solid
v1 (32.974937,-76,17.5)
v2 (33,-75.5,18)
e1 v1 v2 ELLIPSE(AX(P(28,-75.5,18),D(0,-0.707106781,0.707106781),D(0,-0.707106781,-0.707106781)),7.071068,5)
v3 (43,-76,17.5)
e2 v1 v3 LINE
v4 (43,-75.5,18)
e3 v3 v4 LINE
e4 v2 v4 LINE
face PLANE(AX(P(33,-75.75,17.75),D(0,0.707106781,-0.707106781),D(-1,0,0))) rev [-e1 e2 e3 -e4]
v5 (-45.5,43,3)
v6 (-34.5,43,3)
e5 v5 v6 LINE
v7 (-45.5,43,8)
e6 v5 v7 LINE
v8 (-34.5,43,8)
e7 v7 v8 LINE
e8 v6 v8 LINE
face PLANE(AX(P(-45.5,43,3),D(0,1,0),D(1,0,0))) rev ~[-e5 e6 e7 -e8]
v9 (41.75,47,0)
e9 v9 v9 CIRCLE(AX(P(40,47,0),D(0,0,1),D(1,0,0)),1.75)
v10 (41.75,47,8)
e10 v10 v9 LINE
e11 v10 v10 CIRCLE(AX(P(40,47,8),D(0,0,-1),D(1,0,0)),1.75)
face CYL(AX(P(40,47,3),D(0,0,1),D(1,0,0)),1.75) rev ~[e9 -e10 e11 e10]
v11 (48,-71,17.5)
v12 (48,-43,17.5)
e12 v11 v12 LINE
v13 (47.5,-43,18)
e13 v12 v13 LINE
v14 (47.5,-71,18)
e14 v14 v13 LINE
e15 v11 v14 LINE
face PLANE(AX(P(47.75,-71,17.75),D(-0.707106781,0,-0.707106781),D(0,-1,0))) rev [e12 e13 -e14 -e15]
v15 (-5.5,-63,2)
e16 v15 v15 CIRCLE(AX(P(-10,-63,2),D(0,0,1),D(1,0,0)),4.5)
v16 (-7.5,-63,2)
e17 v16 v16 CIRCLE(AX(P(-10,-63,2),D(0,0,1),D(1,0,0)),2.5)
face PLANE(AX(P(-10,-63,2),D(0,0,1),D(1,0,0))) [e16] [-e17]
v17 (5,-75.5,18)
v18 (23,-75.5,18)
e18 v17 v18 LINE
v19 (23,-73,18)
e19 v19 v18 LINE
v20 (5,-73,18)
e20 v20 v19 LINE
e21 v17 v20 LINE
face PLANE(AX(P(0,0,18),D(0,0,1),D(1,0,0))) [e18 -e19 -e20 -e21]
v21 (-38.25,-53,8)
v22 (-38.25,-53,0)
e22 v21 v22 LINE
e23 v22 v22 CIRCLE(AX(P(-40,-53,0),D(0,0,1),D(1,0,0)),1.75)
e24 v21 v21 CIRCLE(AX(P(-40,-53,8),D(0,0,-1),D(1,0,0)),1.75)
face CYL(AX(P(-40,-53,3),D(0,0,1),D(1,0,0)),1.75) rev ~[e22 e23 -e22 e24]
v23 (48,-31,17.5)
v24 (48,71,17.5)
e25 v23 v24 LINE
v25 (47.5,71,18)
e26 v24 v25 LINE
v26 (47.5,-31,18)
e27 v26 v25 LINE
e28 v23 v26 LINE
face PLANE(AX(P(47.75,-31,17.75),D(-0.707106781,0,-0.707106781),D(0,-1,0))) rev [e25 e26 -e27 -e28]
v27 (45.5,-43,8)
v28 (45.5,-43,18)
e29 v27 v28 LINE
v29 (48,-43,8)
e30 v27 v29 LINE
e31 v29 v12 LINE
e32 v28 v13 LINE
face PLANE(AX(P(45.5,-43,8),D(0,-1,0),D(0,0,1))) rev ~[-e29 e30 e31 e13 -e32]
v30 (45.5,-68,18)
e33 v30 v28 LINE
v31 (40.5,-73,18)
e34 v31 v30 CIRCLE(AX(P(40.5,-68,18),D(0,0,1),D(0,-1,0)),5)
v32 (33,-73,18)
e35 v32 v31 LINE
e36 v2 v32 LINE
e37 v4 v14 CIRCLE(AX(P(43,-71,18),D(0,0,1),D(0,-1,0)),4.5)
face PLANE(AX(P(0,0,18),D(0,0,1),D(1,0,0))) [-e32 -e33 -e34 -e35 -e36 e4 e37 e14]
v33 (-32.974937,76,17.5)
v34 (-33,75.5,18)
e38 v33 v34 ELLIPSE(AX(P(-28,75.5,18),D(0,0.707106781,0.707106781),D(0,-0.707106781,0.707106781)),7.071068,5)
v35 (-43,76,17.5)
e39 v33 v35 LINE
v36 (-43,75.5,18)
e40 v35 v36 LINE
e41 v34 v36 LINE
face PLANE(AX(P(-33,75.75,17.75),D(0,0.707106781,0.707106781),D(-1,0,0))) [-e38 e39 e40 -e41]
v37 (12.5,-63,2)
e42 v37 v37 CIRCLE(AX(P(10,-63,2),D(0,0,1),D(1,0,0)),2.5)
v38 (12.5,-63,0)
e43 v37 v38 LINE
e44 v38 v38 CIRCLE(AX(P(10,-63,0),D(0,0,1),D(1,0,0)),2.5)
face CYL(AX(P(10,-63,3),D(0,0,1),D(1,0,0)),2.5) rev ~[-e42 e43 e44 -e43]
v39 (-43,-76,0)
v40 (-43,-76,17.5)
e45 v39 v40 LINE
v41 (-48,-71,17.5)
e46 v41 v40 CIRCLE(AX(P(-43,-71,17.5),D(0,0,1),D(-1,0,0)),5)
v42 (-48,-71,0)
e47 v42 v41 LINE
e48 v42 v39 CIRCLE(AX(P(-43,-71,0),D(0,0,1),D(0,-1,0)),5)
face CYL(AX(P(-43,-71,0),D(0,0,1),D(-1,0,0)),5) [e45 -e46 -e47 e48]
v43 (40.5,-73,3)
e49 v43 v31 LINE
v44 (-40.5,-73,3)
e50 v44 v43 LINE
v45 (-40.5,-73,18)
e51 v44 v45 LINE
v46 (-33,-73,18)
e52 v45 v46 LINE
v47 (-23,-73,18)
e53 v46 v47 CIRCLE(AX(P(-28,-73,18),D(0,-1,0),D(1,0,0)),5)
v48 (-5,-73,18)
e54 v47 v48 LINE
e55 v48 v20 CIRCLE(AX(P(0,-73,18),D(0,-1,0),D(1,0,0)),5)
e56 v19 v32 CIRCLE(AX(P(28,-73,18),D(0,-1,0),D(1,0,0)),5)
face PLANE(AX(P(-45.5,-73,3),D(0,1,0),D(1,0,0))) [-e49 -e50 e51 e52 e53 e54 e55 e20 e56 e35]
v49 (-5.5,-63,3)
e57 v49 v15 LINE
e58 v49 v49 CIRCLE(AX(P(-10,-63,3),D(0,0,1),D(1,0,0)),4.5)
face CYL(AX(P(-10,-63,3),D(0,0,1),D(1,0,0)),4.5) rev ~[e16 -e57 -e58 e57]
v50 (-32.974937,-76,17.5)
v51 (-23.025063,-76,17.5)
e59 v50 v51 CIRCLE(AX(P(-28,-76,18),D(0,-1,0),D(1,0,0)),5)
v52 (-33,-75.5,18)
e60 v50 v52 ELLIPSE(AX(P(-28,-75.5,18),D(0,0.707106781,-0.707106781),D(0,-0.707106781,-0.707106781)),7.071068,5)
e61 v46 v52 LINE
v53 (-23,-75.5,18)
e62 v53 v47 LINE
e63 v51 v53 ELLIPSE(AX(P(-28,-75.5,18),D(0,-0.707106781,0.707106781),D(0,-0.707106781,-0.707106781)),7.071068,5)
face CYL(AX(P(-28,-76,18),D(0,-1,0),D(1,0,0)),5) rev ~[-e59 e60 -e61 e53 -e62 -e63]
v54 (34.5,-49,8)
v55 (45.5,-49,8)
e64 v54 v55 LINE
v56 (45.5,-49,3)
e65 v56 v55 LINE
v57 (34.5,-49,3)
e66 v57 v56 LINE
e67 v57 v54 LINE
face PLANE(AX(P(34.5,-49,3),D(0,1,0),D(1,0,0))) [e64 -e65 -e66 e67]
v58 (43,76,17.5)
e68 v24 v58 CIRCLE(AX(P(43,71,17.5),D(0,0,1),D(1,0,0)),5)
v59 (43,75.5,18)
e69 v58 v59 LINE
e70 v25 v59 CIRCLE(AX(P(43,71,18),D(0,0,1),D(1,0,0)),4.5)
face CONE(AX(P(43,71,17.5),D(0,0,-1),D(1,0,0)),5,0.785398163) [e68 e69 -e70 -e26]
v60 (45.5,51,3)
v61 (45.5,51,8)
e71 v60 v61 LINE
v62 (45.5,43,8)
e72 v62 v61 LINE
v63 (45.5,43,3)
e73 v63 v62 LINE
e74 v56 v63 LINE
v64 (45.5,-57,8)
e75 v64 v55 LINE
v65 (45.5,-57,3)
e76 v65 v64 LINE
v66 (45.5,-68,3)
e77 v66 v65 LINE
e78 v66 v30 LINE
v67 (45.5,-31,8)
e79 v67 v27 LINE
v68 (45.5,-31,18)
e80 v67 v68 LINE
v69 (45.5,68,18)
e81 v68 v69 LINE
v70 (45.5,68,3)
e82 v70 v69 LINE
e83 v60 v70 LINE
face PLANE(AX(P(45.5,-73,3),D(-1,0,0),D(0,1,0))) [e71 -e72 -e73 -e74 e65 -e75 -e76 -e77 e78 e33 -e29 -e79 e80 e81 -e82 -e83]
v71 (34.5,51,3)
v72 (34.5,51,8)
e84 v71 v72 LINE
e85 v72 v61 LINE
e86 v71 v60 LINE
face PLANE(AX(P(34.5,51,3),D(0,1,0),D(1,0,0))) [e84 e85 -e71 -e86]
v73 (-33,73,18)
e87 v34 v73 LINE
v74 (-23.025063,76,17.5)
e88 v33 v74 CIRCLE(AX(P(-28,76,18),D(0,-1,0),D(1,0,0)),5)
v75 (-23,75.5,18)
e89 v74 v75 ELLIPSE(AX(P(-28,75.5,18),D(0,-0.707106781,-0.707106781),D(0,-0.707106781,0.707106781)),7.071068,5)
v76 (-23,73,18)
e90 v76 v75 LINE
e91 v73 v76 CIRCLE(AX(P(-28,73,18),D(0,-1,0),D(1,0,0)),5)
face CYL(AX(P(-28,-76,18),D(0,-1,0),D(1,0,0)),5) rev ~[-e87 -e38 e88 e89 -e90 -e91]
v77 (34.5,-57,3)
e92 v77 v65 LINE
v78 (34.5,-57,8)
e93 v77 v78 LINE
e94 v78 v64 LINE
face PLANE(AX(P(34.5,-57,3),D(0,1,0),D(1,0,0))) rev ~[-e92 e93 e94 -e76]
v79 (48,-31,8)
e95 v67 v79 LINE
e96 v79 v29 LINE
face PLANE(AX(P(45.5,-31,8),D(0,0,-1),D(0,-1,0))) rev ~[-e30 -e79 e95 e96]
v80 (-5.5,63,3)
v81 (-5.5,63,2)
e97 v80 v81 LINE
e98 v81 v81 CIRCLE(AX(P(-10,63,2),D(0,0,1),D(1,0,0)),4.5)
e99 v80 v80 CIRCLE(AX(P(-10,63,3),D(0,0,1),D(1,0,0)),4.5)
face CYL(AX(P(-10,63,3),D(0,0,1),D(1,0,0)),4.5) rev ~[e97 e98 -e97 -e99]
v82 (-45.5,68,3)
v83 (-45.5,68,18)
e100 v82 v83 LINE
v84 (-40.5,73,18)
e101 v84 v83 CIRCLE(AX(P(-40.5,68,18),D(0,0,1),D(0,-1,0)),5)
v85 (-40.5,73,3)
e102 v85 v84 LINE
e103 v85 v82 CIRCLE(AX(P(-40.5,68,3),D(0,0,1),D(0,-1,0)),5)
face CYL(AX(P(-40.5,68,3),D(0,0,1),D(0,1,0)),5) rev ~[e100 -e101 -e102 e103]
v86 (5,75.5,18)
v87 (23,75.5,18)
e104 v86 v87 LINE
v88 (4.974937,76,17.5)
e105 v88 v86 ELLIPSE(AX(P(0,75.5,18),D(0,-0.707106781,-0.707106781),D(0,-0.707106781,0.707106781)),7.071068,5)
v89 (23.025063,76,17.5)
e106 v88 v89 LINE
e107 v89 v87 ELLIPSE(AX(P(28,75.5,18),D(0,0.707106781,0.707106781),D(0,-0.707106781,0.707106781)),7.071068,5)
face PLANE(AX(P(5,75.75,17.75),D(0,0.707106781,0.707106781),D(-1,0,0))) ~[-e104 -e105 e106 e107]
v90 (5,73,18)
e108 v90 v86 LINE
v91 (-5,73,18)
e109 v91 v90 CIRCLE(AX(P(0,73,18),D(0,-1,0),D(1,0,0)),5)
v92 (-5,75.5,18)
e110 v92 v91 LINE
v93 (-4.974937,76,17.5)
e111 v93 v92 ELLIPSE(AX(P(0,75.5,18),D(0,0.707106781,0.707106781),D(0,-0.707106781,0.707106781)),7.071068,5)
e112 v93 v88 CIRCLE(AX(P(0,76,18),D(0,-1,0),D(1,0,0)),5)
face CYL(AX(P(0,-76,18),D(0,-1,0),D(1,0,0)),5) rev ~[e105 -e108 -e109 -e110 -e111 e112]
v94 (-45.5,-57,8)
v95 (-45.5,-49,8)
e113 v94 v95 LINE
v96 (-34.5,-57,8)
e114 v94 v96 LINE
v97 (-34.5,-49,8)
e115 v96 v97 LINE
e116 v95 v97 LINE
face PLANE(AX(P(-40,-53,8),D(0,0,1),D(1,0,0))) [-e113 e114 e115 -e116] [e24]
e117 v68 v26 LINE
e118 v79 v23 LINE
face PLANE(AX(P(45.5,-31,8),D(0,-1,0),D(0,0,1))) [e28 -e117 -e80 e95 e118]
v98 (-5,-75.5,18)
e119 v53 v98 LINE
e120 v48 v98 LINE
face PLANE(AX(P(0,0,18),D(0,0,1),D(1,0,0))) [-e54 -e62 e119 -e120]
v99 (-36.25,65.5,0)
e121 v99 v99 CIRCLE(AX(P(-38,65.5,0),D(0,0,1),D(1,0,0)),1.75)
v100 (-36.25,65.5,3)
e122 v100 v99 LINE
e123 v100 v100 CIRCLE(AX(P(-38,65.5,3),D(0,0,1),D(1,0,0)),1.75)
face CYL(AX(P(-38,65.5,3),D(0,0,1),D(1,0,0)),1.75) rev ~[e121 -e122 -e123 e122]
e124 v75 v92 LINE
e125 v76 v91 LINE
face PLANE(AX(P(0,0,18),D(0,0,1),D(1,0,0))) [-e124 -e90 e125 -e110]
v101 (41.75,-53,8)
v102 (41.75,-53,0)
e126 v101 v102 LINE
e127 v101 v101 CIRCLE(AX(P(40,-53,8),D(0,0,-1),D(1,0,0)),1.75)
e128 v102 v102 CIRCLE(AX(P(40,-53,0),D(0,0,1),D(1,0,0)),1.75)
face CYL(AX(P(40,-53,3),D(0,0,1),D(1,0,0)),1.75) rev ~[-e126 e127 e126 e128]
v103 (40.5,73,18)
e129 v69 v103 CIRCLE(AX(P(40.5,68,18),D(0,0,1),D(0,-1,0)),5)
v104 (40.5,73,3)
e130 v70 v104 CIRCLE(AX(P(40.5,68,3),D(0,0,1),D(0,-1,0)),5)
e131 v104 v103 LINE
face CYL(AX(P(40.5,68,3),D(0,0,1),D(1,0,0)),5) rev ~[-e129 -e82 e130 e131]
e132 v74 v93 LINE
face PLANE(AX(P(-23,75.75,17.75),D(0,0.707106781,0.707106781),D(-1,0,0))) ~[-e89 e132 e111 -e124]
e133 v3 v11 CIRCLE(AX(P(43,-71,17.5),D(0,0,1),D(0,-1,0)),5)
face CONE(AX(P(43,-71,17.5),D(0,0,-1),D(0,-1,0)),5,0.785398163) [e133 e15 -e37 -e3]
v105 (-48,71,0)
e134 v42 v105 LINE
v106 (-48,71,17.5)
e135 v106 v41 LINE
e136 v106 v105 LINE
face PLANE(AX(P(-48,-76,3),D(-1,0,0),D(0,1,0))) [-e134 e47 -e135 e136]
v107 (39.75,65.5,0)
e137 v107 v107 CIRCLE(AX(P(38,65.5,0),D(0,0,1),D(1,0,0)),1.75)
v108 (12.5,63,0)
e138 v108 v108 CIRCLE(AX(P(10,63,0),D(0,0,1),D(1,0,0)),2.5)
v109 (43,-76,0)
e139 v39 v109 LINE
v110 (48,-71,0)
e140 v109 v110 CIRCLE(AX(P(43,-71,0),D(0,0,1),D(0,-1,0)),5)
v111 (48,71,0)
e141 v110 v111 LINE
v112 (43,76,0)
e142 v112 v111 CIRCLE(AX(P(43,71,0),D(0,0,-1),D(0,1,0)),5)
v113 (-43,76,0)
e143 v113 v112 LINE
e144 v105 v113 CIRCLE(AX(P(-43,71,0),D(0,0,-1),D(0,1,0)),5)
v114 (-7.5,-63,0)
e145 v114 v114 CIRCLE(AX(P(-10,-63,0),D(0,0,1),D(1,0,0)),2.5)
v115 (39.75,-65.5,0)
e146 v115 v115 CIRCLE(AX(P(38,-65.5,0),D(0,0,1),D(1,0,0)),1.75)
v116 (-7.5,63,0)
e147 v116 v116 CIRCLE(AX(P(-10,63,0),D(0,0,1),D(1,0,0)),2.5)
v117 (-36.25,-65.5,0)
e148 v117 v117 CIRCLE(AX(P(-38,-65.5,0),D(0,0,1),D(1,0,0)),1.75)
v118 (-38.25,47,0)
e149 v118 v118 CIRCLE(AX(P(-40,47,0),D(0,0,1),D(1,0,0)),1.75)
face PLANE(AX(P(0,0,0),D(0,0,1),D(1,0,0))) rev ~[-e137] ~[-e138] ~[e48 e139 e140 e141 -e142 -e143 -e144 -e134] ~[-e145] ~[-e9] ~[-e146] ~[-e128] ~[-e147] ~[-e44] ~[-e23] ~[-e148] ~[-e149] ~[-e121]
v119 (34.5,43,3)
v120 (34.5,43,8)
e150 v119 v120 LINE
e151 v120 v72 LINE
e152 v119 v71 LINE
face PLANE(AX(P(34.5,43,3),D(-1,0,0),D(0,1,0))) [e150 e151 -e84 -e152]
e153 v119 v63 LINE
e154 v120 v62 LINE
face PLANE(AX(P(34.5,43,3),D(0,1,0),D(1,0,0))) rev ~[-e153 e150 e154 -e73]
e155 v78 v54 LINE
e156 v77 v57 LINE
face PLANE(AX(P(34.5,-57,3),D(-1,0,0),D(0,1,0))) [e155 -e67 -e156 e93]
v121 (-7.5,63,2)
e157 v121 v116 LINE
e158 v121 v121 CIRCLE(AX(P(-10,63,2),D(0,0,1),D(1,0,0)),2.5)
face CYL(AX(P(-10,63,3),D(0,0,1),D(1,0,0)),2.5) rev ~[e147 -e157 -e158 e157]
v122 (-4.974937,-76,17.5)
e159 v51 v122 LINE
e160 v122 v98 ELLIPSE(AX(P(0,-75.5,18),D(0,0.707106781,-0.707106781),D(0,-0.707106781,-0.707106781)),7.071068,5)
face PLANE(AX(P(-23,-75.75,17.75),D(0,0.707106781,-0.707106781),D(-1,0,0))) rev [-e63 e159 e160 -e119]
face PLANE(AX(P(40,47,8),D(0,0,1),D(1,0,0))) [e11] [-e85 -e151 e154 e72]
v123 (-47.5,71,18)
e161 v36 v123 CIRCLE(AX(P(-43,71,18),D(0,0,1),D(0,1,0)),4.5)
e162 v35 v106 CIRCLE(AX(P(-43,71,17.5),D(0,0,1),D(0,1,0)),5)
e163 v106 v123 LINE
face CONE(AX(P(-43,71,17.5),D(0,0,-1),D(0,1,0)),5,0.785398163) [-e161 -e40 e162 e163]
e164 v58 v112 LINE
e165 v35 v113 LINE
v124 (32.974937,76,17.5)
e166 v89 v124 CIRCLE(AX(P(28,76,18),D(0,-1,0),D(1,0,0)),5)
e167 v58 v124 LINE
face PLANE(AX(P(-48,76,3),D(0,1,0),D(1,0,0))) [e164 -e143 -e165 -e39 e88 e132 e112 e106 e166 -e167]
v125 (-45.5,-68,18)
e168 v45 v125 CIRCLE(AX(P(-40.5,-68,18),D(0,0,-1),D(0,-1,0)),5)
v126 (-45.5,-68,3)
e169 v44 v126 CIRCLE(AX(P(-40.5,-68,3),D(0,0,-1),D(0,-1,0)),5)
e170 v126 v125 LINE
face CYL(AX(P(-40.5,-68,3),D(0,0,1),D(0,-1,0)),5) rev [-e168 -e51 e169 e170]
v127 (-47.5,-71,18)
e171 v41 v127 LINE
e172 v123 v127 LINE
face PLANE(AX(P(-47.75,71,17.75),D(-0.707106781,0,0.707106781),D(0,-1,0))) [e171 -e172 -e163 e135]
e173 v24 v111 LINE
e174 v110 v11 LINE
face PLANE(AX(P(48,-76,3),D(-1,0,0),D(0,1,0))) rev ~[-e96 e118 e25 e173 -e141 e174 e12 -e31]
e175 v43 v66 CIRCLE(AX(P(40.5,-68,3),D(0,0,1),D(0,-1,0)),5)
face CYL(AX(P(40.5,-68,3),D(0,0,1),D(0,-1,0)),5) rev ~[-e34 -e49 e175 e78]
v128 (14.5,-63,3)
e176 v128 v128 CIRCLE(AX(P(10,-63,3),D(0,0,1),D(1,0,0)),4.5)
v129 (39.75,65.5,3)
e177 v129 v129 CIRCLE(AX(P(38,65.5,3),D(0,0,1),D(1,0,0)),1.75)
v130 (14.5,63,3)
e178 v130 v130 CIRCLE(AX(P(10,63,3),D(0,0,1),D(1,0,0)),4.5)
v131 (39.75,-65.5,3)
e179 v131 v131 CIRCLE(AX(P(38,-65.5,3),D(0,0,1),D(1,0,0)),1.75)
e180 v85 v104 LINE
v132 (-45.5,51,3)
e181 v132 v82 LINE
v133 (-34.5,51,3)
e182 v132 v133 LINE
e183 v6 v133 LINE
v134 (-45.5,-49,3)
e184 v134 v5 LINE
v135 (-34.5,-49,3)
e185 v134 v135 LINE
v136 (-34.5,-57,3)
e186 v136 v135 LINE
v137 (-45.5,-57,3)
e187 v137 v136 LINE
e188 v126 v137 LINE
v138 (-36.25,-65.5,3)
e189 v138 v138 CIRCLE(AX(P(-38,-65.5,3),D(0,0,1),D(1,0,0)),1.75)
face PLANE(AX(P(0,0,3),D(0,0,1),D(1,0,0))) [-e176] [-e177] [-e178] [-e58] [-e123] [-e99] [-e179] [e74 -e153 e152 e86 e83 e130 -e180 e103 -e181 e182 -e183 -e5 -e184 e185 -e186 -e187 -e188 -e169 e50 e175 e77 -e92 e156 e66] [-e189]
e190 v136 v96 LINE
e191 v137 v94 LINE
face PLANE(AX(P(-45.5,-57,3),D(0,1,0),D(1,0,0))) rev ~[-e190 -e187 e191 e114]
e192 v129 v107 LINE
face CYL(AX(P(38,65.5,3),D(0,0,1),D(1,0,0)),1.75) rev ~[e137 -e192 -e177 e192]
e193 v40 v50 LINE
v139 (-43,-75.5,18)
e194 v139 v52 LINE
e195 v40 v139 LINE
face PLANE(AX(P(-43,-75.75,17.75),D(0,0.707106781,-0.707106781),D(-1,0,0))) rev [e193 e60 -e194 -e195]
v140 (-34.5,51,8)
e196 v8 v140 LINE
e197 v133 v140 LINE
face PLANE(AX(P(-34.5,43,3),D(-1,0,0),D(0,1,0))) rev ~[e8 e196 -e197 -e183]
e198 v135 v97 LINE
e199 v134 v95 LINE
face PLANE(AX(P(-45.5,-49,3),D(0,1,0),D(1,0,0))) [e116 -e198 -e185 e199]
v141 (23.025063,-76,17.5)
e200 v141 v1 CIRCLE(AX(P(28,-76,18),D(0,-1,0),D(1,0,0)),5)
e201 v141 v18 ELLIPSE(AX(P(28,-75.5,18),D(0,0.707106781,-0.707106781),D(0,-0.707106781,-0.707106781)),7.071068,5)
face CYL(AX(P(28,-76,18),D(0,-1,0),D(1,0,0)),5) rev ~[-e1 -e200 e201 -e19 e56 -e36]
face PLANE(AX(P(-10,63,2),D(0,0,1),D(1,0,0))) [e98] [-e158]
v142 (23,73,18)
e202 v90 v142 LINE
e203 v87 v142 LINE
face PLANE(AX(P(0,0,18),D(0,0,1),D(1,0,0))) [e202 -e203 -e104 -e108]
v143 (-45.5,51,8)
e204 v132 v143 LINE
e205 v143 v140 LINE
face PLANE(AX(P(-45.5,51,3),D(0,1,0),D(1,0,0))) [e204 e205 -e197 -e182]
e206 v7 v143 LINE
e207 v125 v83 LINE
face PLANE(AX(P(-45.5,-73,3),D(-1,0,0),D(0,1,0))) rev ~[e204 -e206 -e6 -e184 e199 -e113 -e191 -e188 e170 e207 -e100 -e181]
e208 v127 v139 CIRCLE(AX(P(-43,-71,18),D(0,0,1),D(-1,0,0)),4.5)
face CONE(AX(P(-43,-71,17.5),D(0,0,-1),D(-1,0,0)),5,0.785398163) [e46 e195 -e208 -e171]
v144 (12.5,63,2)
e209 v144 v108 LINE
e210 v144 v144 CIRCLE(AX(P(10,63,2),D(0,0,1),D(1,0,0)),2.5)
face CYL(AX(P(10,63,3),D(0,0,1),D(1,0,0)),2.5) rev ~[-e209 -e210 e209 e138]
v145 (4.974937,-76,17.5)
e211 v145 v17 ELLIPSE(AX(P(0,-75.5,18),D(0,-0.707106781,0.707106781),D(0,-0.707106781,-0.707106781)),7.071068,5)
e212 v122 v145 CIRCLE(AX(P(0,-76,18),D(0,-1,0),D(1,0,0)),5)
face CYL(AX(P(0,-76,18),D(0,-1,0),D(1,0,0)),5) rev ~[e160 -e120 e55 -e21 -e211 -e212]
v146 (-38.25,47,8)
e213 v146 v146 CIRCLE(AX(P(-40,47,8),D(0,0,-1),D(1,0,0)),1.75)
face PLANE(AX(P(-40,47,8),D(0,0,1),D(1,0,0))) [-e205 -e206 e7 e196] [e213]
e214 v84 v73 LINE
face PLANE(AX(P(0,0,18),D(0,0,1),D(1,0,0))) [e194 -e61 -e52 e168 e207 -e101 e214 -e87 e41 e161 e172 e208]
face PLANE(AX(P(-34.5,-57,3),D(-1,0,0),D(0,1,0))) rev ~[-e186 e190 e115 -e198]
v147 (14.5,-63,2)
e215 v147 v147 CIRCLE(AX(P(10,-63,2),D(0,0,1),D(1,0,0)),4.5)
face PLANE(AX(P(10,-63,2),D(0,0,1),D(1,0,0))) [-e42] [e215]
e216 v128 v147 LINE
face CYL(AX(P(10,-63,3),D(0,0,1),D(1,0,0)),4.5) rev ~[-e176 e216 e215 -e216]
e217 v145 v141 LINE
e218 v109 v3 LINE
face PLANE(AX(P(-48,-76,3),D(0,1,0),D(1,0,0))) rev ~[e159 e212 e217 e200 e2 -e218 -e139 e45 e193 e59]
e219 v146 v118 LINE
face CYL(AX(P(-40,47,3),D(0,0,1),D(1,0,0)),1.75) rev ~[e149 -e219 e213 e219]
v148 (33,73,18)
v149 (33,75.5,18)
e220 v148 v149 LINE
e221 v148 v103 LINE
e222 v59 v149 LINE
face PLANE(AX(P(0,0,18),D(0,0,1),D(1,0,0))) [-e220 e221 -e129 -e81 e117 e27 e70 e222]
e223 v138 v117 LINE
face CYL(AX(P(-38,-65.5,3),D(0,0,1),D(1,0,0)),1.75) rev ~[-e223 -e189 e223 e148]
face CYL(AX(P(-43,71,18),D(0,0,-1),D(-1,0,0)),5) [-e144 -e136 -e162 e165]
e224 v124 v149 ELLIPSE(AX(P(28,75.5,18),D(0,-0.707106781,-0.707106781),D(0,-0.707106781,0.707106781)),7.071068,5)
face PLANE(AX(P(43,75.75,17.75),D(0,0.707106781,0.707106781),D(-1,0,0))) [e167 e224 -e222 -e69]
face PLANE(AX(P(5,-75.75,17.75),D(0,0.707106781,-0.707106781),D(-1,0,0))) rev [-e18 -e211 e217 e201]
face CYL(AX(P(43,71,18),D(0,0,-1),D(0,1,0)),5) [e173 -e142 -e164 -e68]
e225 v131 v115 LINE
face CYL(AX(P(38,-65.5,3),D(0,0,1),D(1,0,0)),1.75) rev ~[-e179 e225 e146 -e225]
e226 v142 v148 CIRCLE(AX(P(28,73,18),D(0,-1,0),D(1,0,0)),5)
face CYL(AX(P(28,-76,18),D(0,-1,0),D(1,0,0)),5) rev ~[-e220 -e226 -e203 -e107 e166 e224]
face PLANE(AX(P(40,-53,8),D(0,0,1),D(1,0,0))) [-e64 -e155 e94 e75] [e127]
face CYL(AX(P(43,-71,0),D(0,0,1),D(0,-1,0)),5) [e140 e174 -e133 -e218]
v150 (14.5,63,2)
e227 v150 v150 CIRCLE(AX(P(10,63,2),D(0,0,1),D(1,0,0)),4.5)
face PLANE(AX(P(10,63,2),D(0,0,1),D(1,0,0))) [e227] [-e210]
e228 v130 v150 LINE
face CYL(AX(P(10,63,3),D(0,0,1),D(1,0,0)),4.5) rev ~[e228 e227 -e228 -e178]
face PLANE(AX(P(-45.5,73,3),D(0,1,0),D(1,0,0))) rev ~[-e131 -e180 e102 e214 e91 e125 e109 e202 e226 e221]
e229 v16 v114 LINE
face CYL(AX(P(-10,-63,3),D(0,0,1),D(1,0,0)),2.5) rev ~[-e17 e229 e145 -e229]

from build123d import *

# Parameters (mm, degrees)
F0_W      = 96
F0_H      = 152
F1_DEPTH  = 3
F2_W      = 96
F2_H      = 152
F2_W_2    = 91
F2_H_2    = 146
F3_DEPTH  = 15
F4_R      = 1.75
F5_DEPTH  = 3
F6_R      = 5
F7_R      = 5
F8_DEPTH  = 152.001
F9_W      = 11
F9_H      = 8
F10_DEPTH = 5
F11_R     = 1.75
F12_DEPTH = 15.001
F13_DEPTH = 25
F14_R     = 2.5
F15_DEPTH = 3.001
F16_W     = 12
F16_H     = 20.9038736373
F17_DEPTH = 2.501
F18_SIZE  = 0.5
F19_R     = 4.5
F20_DEPTH = 1


with BuildPart() as f1:
    # F0 (on Top) → F1 (new body)
    with BuildSketch(Plane.XY):
        Rectangle(F0_W, F0_H)
    extrude(amount=F1_DEPTH)

    # F2 (on face) → F3 (join)
    with BuildSketch(Plane.XY.offset(3)):
        Rectangle(F2_W, F2_H)
        Rectangle(F2_W_2, F2_H_2, mode=Mode.SUBTRACT)
    extrude(amount=F3_DEPTH)

    # F4 (on face) → F5 (cut, through all)
    with BuildSketch(Plane.XY.offset(3)):
        with Locations((-38, 65.5)):
            Circle(F4_R)
        with Locations((38, 65.5)):
            Circle(F4_R)
        with Locations((-38, -65.5)):
            Circle(F4_R)
        with Locations((38, -65.5)):
            Circle(F4_R)
    extrude(amount=-F5_DEPTH, mode=Mode.SUBTRACT)

    # F6
    f6_edges = [f1.edges().sort_by_distance(p)[0] for p in [
        (-48, -76, 9),
        (48, -76, 9),
        (45.5, -73, 10.5),
        (-45.5, -73, 10.5),
        (-48, 76, 9),
        (-45.5, 73, 10.5),
        (48, 76, 9),
        (45.5, 73, 10.5),
    ]]
    fillet(f6_edges, radius=F6_R)

    # F7 (on face) → F8 (cut, through all)
    with BuildSketch(Plane.XZ.offset(76)):
        with Locations((-28, 18)):
            Circle(F7_R)
        with Locations((0, 18)):
            Circle(F7_R)
        with Locations((28, 18)):
            Circle(F7_R)
    extrude(amount=-F8_DEPTH, mode=Mode.SUBTRACT)

    # F9 (on face) → F10 (join)
    with BuildSketch(Plane.XY.offset(3)):
        with Locations((-40, -53)):
            Rectangle(F9_W, F9_H)
        with Locations((40, -53)):
            Rectangle(F9_W, F9_H)
        with Locations((-40, 47)):
            Rectangle(F9_W, F9_H)
        with Locations((40, 47)):
            Rectangle(F9_W, F9_H)
    extrude(amount=F10_DEPTH)

    # F11 (on face) → F12 (cut, through all)
    with BuildSketch(Plane.XY.offset(3)):
        with Locations((-40, -53)):
            Circle(F11_R)
        with Locations((40, -53)):
            Circle(F11_R)
        with Locations((-40, 47)):
            Circle(F11_R)
        with Locations((40, 47)):
            Circle(F11_R)
    extrude(amount=F12_DEPTH, mode=Mode.SUBTRACT)

    # F11 (on face) → F13 (cut)
    with BuildSketch(Plane.XY.offset(3)):
        with Locations((-40, -53)):
            Circle(F11_R)
        with Locations((40, -53)):
            Circle(F11_R)
        with Locations((-40, 47)):
            Circle(F11_R)
        with Locations((40, 47)):
            Circle(F11_R)
    extrude(amount=-F13_DEPTH, mode=Mode.SUBTRACT)

    # F14 (on face) → F15 (cut, through all)
    with BuildSketch(Plane.XY.offset(3)):
        with Locations((-10, -63)):
            Circle(F14_R)
        with Locations((10, -63)):
            Circle(F14_R)
        with Locations((-10, 63)):
            Circle(F14_R)
        with Locations((10, 63)):
            Circle(F14_R)
    extrude(amount=-F15_DEPTH, mode=Mode.SUBTRACT)

    # F16 (on face) → F17 (cut, through all)
    with BuildSketch(Plane(origin=(45.5, 0, 0), x_dir=(0, -1, 0), z_dir=(-1, 0, 0))):
        with Locations((37, 18.4519368187)):
            Rectangle(F16_W, F16_H)
    extrude(amount=-F17_DEPTH, mode=Mode.SUBTRACT)

    # F18 (call 1 of 7: OpenCascade refuses the feature's edges together)
    f18_edges = [f1.edges().sort_by_distance(p)[0] for p in [
        (48, 20, 18),
    ]]
    chamfer(f18_edges, length=F18_SIZE)

    # F18#2 (call 2 of 7)
    f18_2_edges = [f1.edges().sort_by_distance(p)[0] for p in [
        (48, -57, 18),
        (46.535534, -74.535534, 18),
    ]]
    chamfer(f18_2_edges, length=F18_SIZE)

    # F18#3 (call 3 of 7)
    f18_3_edges = [f1.edges().sort_by_distance(p)[0] for p in [
        (14, -76, 18),
    ]]
    chamfer(f18_3_edges, length=F18_SIZE)

    # F18#4 (call 4 of 7)
    f18_4_edges = [f1.edges().sort_by_distance(p)[0] for p in [
        (-14, -76, 18),
    ]]
    chamfer(f18_4_edges, length=F18_SIZE)

    # F18#5 (call 5 of 7)
    f18_5_edges = [f1.edges().sort_by_distance(p)[0] for p in [
        (-38, -76, 18),
    ]]
    chamfer(f18_5_edges, length=F18_SIZE)

    # F18#6 (call 6 of 7)
    f18_6_edges = [f1.edges().sort_by_distance(p)[0] for p in [
        (-14, 76, 18),
    ]]
    chamfer(f18_6_edges, length=F18_SIZE)

    # F18#7 (call 7 of 7)
    f18_7_edges = [f1.edges().sort_by_distance(p)[0] for p in [
        (14, 76, 18),
    ]]
    chamfer(f18_7_edges, length=F18_SIZE)

    # F19 (on face) → F20 (cut)
    with BuildSketch(Plane.XY.offset(3)):
        with Locations((10, 63)):
            Circle(F19_R)
        with Locations((-10, 63)):
            Circle(F19_R)
        with Locations((10, -63)):
            Circle(F19_R)
        with Locations((-10, -63)):
            Circle(F19_R)
    extrude(amount=-F20_DEPTH, mode=Mode.SUBTRACT)


solid = f1.part
